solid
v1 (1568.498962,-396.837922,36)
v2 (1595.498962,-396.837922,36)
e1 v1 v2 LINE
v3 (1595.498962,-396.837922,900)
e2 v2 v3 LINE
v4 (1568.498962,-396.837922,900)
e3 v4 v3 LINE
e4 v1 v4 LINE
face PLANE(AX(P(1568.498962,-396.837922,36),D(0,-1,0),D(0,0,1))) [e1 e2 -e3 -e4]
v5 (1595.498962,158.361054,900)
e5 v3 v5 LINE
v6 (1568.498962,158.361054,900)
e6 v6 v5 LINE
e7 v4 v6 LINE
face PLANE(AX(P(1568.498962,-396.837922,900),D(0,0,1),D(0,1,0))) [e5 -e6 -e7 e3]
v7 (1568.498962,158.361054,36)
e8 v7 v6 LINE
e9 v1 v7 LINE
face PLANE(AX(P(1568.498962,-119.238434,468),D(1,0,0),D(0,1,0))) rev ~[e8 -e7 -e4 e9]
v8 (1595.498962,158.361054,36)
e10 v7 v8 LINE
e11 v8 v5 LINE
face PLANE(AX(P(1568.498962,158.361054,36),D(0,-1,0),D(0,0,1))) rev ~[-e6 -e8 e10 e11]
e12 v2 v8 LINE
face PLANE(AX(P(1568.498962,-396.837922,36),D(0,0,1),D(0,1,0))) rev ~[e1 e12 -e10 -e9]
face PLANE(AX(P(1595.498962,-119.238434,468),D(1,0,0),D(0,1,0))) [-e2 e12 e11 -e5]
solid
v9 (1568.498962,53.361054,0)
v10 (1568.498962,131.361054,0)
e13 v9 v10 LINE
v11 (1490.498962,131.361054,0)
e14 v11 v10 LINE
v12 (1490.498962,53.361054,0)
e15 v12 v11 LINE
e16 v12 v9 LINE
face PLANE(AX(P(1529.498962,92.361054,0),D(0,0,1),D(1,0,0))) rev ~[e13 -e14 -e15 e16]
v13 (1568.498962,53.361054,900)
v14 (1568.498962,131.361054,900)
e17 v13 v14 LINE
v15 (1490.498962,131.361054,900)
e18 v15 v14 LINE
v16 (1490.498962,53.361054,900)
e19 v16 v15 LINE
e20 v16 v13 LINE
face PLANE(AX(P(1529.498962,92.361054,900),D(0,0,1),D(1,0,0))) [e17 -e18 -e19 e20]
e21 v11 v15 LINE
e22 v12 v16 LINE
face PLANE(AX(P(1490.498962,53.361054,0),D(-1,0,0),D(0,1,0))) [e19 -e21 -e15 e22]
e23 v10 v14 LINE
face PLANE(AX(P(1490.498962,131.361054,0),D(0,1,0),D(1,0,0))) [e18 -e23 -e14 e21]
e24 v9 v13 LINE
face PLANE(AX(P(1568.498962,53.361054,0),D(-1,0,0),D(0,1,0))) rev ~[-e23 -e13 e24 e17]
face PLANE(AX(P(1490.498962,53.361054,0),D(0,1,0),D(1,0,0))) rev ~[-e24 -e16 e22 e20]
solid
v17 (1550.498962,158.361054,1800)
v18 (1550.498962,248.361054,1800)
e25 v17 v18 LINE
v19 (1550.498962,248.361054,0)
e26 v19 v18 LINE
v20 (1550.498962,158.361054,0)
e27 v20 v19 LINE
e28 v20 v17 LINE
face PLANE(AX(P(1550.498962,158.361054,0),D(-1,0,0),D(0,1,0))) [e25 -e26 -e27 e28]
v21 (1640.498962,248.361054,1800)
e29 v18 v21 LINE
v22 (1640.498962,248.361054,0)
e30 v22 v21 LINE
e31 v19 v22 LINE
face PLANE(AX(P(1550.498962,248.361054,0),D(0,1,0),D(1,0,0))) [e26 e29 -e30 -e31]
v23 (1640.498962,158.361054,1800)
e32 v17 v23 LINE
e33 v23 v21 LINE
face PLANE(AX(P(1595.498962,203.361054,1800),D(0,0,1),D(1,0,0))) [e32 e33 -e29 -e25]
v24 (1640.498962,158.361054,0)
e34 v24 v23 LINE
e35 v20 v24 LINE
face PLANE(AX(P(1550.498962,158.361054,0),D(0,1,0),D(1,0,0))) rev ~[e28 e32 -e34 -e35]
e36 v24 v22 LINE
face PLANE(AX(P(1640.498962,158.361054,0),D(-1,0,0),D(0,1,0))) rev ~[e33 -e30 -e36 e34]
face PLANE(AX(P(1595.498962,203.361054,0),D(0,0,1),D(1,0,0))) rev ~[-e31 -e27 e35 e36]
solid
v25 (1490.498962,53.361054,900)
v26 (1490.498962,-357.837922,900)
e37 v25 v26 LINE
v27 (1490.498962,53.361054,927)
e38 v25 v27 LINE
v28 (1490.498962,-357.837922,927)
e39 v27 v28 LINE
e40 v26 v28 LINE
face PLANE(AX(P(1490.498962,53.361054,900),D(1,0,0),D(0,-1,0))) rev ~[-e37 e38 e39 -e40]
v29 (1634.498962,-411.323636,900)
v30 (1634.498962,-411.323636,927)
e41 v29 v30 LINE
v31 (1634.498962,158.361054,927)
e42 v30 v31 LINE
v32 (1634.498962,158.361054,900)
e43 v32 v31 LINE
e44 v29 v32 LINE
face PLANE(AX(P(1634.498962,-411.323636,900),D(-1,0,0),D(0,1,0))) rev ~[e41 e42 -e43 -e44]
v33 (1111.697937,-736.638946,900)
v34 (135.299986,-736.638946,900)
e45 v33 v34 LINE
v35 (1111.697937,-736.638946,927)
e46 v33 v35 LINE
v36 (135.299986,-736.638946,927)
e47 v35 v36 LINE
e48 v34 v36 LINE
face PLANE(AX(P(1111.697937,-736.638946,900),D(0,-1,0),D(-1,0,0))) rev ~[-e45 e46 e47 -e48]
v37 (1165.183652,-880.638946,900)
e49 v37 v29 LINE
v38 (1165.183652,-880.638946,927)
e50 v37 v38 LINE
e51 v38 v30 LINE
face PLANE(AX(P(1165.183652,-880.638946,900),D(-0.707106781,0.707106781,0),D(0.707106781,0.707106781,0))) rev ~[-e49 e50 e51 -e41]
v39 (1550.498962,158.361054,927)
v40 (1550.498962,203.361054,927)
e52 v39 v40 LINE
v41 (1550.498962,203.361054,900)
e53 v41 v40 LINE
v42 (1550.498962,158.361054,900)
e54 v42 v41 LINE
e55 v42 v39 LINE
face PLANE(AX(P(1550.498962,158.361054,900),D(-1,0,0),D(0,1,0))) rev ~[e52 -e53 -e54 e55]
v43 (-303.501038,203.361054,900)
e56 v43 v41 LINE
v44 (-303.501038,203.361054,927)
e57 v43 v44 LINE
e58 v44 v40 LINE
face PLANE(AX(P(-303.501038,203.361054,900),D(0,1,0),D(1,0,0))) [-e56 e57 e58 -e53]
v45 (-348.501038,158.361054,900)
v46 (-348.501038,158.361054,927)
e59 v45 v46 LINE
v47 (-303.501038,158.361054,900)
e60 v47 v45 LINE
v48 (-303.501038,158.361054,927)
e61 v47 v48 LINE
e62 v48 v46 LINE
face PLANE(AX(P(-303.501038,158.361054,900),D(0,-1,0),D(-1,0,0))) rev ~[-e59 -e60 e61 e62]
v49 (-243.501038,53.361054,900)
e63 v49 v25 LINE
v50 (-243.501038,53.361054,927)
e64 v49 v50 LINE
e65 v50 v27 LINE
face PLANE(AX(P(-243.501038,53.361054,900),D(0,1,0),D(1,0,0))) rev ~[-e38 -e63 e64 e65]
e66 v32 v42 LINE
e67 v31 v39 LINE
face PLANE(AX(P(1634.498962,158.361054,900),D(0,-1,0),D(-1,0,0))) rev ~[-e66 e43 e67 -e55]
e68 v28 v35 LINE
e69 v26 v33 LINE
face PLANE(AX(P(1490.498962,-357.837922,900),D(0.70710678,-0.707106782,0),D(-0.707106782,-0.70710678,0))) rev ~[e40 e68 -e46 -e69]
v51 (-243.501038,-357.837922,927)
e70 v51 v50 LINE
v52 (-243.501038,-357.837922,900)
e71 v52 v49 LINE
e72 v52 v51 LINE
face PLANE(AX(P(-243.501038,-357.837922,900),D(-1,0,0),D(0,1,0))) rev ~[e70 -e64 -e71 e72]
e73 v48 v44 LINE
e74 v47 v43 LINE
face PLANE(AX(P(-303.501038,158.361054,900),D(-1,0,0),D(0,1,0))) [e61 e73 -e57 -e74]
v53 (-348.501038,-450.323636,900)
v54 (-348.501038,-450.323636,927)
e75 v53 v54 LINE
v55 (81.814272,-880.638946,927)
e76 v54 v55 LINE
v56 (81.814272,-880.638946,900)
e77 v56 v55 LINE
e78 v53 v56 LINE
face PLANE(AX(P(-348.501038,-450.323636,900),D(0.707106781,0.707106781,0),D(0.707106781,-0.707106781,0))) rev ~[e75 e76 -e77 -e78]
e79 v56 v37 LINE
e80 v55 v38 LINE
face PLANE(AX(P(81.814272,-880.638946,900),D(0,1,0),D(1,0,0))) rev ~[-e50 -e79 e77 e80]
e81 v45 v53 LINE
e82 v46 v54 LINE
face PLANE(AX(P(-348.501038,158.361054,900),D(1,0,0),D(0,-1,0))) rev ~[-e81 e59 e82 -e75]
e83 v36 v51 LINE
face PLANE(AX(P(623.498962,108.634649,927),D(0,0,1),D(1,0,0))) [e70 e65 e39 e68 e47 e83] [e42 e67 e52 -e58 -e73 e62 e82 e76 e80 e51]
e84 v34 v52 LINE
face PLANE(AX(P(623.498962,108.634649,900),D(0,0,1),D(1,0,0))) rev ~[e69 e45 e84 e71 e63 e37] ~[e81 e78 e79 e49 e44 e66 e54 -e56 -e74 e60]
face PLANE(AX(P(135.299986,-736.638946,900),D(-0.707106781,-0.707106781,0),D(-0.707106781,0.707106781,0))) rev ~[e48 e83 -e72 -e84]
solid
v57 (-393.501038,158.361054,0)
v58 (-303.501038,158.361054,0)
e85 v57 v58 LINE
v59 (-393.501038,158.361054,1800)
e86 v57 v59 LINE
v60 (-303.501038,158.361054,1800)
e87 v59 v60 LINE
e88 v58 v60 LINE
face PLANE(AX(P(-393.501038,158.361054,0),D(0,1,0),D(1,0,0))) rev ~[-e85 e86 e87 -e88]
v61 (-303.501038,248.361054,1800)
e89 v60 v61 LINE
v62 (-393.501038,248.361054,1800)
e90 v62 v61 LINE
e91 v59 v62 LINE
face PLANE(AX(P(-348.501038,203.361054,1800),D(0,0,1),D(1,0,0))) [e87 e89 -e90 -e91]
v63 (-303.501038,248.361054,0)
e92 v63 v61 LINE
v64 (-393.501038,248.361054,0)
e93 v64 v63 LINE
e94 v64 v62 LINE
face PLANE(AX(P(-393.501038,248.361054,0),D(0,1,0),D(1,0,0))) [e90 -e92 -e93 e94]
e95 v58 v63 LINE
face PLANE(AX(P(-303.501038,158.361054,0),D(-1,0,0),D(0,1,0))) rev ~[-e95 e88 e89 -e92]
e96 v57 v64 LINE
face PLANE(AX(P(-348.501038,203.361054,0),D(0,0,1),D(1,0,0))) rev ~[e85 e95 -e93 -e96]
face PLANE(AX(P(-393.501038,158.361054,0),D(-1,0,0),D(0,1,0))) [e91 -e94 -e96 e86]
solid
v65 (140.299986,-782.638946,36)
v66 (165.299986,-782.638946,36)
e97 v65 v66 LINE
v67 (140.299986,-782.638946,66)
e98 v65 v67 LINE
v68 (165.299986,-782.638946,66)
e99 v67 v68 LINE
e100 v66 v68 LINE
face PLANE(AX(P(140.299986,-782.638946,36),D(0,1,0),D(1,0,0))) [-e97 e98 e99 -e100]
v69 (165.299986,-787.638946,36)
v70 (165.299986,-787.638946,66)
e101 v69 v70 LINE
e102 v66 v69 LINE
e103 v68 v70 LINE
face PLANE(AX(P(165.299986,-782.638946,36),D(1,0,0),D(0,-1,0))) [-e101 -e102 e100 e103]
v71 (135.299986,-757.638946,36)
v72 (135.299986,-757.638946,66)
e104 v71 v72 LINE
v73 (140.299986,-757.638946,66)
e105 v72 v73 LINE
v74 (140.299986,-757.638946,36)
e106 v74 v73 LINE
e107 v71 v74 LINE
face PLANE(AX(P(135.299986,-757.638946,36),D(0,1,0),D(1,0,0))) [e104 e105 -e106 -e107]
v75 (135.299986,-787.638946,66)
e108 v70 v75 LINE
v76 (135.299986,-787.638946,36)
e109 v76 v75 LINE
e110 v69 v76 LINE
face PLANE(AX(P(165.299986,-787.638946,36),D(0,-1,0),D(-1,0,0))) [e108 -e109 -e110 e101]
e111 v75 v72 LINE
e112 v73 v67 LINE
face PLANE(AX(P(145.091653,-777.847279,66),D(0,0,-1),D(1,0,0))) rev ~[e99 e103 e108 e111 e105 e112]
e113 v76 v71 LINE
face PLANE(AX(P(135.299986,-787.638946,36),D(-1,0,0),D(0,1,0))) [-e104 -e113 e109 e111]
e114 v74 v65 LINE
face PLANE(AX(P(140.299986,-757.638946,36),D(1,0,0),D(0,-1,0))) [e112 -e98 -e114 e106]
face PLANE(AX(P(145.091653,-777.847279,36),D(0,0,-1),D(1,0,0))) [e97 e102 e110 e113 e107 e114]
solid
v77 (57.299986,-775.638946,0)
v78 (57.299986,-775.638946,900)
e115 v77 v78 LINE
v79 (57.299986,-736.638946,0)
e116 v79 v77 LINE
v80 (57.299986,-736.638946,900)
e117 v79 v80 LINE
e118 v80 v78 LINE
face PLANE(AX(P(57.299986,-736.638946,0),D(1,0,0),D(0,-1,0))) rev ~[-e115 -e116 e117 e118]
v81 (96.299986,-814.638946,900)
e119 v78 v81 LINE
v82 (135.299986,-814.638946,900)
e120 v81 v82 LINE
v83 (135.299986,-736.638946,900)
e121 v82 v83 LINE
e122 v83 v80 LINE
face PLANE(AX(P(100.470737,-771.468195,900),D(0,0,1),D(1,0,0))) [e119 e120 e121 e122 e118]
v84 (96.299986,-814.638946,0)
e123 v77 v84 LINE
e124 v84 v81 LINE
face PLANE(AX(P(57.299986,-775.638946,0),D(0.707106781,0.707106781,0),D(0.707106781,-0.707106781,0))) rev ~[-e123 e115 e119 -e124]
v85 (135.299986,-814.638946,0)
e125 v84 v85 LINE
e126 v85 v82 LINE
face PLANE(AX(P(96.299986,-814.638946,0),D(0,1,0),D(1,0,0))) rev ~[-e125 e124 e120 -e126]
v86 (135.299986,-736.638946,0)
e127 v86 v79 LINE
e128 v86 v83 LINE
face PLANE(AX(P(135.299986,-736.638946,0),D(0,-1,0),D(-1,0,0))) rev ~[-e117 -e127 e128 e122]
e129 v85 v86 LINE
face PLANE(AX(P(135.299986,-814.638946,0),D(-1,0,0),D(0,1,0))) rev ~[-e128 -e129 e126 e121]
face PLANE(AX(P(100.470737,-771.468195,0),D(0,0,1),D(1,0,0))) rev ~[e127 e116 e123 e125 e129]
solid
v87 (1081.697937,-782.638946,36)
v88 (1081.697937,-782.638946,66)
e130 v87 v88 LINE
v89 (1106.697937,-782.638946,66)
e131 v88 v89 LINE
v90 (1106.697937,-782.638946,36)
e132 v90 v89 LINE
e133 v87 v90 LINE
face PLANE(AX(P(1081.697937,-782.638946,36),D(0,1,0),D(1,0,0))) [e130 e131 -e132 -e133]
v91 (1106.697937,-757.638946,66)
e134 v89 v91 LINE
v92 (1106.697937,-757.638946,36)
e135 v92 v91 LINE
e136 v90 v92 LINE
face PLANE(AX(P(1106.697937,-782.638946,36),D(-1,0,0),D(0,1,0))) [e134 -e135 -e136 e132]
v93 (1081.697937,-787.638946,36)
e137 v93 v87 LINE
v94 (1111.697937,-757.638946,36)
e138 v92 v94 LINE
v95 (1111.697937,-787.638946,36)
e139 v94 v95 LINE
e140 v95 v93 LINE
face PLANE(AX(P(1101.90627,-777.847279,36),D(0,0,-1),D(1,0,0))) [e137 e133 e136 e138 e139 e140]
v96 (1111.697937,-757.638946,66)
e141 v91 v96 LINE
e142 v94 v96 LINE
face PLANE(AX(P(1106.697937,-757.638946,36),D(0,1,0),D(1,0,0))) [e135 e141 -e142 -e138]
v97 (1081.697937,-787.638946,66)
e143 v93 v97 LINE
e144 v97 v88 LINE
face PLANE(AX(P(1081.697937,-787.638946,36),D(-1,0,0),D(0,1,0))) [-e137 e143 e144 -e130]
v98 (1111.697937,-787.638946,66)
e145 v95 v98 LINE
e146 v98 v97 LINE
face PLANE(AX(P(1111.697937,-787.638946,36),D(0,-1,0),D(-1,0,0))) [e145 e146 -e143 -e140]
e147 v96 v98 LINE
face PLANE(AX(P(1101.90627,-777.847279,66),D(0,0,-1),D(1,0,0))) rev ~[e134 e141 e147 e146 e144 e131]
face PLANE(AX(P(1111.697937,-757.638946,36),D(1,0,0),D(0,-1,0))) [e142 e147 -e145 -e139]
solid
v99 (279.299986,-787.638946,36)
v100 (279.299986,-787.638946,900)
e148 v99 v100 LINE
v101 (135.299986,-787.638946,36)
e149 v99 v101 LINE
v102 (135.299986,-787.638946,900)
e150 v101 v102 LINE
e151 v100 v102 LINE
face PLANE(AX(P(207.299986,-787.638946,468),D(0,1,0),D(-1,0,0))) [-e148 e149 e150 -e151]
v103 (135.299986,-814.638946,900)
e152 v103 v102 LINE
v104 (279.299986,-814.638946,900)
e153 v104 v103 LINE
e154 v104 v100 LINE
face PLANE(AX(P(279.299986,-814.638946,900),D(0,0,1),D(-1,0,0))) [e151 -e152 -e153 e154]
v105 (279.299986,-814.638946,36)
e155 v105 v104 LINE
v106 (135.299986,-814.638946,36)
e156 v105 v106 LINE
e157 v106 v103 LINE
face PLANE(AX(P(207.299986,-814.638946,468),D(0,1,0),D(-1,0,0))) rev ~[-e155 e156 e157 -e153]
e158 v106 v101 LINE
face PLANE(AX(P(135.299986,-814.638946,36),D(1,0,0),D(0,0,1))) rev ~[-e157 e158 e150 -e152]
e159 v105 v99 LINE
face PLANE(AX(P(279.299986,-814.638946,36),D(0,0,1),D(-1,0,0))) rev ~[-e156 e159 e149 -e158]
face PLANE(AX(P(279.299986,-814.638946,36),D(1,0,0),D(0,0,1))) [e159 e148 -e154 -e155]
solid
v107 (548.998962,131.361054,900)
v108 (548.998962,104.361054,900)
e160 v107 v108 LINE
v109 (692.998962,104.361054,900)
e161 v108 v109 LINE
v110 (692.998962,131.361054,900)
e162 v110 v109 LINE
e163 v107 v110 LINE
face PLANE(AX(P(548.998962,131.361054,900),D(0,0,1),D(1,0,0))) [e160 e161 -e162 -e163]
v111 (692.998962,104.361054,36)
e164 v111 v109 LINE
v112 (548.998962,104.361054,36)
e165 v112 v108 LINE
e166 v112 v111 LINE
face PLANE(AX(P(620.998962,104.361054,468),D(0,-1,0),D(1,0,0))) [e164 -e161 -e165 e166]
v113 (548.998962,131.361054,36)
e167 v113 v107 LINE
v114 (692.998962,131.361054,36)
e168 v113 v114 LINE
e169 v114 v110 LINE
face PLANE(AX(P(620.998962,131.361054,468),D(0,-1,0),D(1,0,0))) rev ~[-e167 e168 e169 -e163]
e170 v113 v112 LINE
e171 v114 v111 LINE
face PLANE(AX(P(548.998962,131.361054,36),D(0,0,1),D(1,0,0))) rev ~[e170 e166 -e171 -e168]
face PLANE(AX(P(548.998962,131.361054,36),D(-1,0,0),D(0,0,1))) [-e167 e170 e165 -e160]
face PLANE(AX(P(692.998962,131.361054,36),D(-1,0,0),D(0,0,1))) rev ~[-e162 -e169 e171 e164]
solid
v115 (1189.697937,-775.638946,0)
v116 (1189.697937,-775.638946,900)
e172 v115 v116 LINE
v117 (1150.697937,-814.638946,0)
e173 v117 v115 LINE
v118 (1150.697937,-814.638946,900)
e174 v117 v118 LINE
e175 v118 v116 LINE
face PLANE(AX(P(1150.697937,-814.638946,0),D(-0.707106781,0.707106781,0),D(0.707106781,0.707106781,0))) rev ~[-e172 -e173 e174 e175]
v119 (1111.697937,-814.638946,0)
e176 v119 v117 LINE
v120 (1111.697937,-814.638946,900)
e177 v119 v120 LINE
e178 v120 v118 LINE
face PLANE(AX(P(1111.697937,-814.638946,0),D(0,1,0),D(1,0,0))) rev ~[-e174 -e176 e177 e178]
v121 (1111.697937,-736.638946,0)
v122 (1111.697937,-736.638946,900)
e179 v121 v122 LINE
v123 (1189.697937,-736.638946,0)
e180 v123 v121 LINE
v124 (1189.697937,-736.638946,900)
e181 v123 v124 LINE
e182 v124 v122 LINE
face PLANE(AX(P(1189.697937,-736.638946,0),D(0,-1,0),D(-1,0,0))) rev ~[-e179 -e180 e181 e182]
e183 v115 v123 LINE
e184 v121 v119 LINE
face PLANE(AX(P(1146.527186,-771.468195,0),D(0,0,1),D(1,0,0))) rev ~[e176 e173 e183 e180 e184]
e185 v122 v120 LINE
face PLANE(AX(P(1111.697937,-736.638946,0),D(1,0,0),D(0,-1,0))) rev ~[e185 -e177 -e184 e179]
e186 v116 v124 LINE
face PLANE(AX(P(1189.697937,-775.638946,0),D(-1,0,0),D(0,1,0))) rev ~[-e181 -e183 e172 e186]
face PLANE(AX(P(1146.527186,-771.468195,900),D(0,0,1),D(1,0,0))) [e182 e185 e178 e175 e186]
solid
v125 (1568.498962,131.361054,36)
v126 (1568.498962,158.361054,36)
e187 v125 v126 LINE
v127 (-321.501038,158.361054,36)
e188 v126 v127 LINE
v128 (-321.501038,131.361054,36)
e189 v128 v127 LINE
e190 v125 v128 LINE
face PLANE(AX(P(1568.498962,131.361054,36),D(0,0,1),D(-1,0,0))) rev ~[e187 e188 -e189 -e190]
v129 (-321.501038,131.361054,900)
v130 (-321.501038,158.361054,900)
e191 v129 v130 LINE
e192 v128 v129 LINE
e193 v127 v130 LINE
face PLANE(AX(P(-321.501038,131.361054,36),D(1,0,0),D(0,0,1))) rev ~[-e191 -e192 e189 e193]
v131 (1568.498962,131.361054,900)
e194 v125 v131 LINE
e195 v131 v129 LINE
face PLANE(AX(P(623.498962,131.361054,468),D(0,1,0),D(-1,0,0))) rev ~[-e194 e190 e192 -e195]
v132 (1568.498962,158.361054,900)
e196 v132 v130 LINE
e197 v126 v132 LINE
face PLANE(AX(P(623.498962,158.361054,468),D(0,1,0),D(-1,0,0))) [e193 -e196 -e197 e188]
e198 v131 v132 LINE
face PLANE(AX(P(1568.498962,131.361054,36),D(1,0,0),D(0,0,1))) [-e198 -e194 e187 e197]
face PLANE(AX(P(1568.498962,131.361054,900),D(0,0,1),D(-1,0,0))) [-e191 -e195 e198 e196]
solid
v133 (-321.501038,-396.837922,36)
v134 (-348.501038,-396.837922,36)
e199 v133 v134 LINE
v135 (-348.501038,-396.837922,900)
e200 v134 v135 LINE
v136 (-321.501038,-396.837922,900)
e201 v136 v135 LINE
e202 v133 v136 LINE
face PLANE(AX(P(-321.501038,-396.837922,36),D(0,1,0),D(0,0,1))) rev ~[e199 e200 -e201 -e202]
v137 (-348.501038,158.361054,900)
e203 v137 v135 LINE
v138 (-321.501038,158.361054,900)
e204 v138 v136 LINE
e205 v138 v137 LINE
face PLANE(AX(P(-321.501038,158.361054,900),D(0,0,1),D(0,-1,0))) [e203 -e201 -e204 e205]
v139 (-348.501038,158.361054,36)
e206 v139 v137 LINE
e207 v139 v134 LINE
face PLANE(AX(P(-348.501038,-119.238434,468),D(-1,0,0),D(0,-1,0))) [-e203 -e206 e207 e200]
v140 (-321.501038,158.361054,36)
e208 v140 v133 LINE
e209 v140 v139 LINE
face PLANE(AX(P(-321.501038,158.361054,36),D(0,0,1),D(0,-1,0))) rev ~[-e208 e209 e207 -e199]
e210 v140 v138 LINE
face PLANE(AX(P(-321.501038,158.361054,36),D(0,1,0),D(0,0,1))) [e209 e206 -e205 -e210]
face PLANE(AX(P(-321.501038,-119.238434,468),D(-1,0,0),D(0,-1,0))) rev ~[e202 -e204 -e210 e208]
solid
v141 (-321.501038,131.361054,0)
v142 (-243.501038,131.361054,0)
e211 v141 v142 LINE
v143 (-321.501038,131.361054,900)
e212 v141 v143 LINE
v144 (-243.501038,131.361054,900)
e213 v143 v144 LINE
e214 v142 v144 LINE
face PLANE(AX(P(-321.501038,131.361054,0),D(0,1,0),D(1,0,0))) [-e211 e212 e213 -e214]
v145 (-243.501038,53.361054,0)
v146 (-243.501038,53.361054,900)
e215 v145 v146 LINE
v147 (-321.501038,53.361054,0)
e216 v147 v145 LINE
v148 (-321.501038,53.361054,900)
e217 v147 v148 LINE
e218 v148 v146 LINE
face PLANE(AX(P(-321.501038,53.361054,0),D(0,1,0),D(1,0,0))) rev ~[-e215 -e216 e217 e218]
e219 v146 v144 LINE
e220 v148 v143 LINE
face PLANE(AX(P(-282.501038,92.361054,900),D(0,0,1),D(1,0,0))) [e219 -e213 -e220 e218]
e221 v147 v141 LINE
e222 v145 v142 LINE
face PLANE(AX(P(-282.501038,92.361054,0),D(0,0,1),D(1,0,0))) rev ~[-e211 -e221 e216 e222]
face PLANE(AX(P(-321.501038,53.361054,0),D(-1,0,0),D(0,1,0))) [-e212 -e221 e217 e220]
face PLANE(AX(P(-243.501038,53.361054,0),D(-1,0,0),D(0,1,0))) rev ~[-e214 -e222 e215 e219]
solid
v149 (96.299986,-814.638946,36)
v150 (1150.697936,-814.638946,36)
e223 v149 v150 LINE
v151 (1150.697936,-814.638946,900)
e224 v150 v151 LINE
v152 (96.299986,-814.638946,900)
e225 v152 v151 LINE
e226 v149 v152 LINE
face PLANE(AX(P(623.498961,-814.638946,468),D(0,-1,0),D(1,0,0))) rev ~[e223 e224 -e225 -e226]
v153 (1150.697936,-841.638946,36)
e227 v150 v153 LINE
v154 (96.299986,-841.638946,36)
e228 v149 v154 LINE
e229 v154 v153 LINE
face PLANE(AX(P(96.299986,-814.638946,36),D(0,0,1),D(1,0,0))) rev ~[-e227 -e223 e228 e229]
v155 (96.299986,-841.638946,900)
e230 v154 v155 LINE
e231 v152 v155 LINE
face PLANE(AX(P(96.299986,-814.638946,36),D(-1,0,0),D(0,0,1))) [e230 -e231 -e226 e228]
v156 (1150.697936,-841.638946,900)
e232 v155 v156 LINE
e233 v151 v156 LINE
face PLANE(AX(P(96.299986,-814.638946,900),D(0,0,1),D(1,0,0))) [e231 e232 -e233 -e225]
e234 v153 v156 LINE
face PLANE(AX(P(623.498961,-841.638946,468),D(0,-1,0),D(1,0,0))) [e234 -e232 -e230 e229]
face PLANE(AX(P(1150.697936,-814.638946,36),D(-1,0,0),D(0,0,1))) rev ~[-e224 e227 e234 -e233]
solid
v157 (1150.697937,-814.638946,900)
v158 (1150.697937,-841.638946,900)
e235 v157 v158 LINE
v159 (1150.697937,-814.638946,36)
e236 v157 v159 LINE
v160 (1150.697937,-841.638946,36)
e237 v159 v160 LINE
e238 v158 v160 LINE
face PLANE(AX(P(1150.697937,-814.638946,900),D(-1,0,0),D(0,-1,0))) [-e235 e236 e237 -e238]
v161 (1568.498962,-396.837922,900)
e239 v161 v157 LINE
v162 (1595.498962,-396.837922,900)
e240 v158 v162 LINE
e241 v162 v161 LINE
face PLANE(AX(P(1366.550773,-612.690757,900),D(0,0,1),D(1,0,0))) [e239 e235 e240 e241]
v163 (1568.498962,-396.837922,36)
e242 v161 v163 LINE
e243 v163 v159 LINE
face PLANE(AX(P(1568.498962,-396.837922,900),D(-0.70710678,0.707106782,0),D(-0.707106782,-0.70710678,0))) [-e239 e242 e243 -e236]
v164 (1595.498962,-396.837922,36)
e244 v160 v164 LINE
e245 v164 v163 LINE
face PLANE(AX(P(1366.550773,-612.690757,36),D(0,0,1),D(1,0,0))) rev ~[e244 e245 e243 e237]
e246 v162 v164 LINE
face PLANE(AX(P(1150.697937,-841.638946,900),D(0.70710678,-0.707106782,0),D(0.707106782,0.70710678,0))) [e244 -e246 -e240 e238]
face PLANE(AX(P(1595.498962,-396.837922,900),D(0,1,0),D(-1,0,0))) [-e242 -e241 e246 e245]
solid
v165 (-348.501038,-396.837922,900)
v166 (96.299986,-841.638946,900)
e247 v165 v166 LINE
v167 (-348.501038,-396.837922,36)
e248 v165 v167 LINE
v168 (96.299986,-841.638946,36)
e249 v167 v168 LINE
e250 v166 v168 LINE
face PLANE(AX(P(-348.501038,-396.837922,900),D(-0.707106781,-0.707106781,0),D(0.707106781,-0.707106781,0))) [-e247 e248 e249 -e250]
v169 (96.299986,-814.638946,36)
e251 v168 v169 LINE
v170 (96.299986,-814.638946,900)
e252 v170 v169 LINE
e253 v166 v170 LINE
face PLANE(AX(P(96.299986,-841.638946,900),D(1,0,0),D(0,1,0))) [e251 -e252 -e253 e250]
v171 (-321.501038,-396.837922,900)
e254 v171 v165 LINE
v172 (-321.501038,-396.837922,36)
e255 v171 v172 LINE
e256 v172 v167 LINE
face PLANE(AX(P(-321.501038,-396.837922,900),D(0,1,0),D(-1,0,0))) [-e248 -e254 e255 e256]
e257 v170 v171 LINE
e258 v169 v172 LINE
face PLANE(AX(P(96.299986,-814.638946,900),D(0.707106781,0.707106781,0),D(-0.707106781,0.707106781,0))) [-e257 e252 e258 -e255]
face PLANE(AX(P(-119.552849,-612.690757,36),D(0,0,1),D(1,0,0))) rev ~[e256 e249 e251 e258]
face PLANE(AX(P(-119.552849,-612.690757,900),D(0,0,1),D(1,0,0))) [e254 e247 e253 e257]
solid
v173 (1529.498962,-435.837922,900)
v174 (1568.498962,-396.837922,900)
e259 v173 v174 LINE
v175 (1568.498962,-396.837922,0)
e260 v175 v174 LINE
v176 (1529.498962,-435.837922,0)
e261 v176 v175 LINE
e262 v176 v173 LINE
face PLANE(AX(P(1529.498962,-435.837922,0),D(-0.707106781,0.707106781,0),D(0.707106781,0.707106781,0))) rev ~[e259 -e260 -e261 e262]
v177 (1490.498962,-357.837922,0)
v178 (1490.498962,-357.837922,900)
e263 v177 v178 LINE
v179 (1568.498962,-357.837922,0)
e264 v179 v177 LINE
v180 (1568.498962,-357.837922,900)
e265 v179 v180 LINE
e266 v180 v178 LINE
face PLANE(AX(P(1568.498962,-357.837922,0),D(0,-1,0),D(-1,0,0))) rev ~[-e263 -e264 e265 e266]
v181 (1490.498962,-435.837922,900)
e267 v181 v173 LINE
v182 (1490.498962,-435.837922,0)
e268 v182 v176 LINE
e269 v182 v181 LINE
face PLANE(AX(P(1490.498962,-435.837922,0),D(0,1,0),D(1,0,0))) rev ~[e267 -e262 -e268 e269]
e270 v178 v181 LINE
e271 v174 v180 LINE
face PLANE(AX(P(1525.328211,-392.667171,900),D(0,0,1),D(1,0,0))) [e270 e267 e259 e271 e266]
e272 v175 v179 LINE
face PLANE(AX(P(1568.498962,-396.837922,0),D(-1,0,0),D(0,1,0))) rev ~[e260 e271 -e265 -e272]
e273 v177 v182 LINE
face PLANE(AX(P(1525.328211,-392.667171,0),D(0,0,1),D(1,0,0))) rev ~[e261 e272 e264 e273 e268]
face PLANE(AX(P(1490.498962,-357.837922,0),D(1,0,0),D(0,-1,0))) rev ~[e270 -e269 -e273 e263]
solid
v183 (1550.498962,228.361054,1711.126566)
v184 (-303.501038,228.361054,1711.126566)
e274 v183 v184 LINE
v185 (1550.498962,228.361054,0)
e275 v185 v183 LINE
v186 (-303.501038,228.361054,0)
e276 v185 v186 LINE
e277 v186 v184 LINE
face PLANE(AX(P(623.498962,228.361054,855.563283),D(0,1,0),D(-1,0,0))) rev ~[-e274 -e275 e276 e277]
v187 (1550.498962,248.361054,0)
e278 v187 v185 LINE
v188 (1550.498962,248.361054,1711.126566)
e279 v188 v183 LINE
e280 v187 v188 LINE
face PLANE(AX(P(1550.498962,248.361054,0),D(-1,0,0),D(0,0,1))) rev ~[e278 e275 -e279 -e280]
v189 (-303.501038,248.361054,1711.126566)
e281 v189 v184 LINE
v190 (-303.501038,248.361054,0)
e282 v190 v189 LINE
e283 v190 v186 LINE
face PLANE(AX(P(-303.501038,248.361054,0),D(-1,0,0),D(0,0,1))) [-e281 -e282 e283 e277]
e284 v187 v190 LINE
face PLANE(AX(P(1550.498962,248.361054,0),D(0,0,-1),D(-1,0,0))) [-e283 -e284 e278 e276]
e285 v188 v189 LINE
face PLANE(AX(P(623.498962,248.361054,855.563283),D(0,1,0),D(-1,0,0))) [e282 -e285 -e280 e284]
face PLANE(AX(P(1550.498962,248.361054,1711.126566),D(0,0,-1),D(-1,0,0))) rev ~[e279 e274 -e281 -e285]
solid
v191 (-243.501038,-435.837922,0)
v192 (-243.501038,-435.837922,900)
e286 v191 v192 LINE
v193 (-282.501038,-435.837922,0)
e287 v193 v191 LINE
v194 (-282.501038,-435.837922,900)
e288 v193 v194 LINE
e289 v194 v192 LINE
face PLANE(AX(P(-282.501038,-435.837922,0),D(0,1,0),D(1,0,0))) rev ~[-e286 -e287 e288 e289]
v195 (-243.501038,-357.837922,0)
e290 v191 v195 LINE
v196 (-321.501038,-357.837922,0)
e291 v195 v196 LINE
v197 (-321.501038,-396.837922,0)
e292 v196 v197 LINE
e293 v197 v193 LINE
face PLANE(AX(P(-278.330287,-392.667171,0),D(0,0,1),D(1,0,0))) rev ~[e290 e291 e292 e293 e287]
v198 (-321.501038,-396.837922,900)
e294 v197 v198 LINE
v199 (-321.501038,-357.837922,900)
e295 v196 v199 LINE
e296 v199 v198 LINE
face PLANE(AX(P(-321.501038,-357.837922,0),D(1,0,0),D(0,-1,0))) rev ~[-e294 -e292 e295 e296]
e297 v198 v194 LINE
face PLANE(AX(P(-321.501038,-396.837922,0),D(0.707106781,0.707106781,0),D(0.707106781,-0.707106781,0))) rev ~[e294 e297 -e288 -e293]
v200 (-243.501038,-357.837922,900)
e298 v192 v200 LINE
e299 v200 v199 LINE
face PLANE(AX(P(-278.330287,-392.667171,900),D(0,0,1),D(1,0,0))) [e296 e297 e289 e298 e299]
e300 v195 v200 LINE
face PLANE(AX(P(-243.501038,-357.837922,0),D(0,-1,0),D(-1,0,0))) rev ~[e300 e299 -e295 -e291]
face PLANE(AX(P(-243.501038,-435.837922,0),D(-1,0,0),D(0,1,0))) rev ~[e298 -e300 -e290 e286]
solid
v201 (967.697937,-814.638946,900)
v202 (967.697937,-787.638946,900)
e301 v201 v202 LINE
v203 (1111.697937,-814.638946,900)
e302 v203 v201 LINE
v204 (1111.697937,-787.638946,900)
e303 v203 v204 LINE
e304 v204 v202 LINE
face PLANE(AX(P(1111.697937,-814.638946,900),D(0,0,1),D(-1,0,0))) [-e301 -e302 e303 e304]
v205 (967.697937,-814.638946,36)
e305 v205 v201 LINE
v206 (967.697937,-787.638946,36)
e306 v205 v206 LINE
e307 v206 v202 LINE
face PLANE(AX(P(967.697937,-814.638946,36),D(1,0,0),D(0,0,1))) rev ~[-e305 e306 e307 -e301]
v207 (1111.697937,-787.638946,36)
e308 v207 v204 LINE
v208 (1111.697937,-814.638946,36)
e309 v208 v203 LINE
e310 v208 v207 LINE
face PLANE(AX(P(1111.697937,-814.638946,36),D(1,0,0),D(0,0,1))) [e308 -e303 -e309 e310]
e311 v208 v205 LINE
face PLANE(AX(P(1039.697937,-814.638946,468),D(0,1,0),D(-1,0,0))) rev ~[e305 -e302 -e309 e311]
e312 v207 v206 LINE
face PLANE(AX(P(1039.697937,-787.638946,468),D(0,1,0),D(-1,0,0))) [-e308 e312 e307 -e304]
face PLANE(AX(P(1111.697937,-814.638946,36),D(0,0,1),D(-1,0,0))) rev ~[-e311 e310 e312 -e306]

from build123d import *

# Parameters (mm, degrees)
F0_W      = 78
F0_H      = 78
F1_DEPTH  = 900
F2_W      = 1890
F2_H      = 864
F3_DEPTH  = 27
F4_W      = 555.198976
F4_H      = 864
F5_DEPTH  = 27
F6_W      = 555.198976
F6_H      = 864
F7_DEPTH  = 27
F8_W      = 1054.397951
F8_H      = 864
F9_DEPTH  = 27
F11_DEPTH = 864
F13_DEPTH = 864
F14_W     = 1854
F14_H     = 45
F15_DEPTH = 27
F16_W     = 90
F16_H     = 90
F17_DEPTH = 1800
F18_W     = 1854
F18_H     = 1711.126566
F19_DEPTH = 20
F20_W     = 144
F20_H     = 864
F21_DEPTH = 27
F23_DEPTH = 30
F24_W     = 144
F24_H     = 864
F25_DEPTH = 27


with BuildPart() as f1:
    # F0 (on Top) → F1 (new body)
    with BuildSketch(Plane.XY):
        with Locations((-282.501038, 92.361054)):
            Rectangle(F0_W, F0_H)
        with Locations((1529.498962, 92.361054)):
            Rectangle(F0_W, F0_H)
        Polygon((-282.501038, -435.837922), (-243.501038, -435.837922), (-243.501038, -357.837922), (-321.501038, -357.837922), (-321.501038, -396.837922), align=None)
        Polygon((1568.498962, -396.837922), (1568.498962, -357.837922), (1490.498962, -357.837922), (1490.498962, -435.837922), (1529.498962, -435.837922), align=None)
        Polygon((135.299986, -814.638946), (135.299986, -736.638946), (57.299986, -736.638946), (57.299986, -775.638946), (96.299986, -814.638946), align=None)
        Polygon((1189.697937, -775.638946), (1189.697937, -736.638946), (1111.697937, -736.638946), (1111.697937, -814.638946), (1150.697937, -814.638946), align=None)
    extrude(amount=F1_DEPTH)


with BuildPart() as f3:
    # F2 (on face) → F3 (new body)
    with BuildSketch(Plane(origin=(0, 131.361054, 0), x_dir=(-1, 0, 0), z_dir=(0, 1, 0))):
        with Locations((-623.498962, 468)):
            Rectangle(F2_W, F2_H)
    extrude(amount=F3_DEPTH)


with BuildPart() as f5:
    # F4 (on face) → F5 (new body)
    with BuildSketch(Plane(origin=(-321.501038, 0, 0), x_dir=(0, -1, 0), z_dir=(-1, 0, 0))):
        with Locations((119.238434, 468)):
            Rectangle(F4_W, F4_H)
    extrude(amount=F5_DEPTH)


with BuildPart() as f7:
    # F6 (on face) → F7 (new body)
    with BuildSketch(Plane.YZ.offset(1568.498962)):
        with Locations((-119.238434, 468)):
            Rectangle(F6_W, F6_H)
    extrude(amount=F7_DEPTH)


with BuildPart() as f9:
    # F8 (on face) → F9 (new body)
    with BuildSketch(Plane.XZ.offset(814.638946)):
        with Locations((623.498961, 468)):
            Rectangle(F8_W, F8_H)
    extrude(amount=F9_DEPTH)


with BuildPart() as f11:
    # F10 (on face) → F11 (new body)
    with BuildSketch(Plane.XY.offset(900)):
        Polygon((1568.498962, -396.837922), (1150.697937, -814.638946), (1150.697937, -841.638946), (1595.498962, -396.837922), align=None)
    extrude(amount=-F11_DEPTH)


with BuildPart() as f13:
    # F12 (on face) → F13 (new body)
    with BuildSketch(Plane.XY.offset(900)):
        Polygon((96.299986, -814.638946), (-321.501038, -396.837922), (-348.501038, -396.837922), (96.299986, -841.638946), align=None)
    extrude(amount=-F13_DEPTH)


with BuildPart() as f15:
    # F14 (on face) → F15 (new body)
    with BuildSketch(Plane.XY.offset(900)):
        Polygon((-243.501038, 53.361054), (1490.498962, 53.361054), (1595.498962, 158.361054), (1550.498962, 158.361054), (-303.501038, 158.361054), (-348.501038, 158.361054), align=None)
        Polygon((1595.498962, 158.361054), (1490.498962, 53.361054), (1490.498962, -357.837922), (1634.498962, -411.323636), (1634.498962, 158.361054), align=None)
        Polygon((1634.498962, -411.323636), (1490.498962, -357.837922), (1111.697937, -736.638946), (1165.183652, -880.638946), align=None)
        Polygon((-243.501038, -357.837922), (-243.501038, 53.361054), (-348.501038, 158.361054), (-348.501038, -396.837922), align=None)
        with Locations((623.498962, 180.861054)):
            Rectangle(F14_W, F14_H)
        Polygon((1165.183652, -880.638946), (1111.697937, -736.638946), (135.299986, -736.638946), (81.814272, -880.638946), align=None)
        Polygon((135.299986, -736.638946), (-243.501038, -357.837922), (-348.501038, -396.837922), (-348.501038, -450.323636), (81.814272, -880.638946), align=None)
    extrude(amount=F15_DEPTH)


with BuildPart() as f17:
    # F16 (on Top) → F17 (new body)
    with BuildSketch(Plane.XY):
        with Locations((1595.498962, 203.361054)):
            Rectangle(F16_W, F16_H)
        with Locations((-348.501038, 203.361054)):
            Rectangle(F16_W, F16_H)
    extrude(amount=F17_DEPTH)


with BuildPart() as f19:
    # F18 (on face) → F19 (new body)
    with BuildSketch(Plane(origin=(0, 248.361054, 0), x_dir=(-1, 0, 0), z_dir=(0, 1, 0))):
        with Locations((-623.498962, 855.563283)):
            Rectangle(F18_W, F18_H)
    extrude(amount=-F19_DEPTH)


with BuildPart() as f21:
    # F20 (on face) → F21 (new body)
    with BuildSketch(Plane(origin=(0, -814.638946, 0), x_dir=(-1, 0, 0), z_dir=(0, 1, 0))):
        with Locations((-1039.697937, 468)):
            Rectangle(F20_W, F20_H)
        with Locations((-207.299986, 468)):
            Rectangle(F20_W, F20_H)
    extrude(amount=F21_DEPTH)


with BuildPart() as f23:
    # F22 (on face) → F23 (new body)
    with BuildSketch(Plane(origin=(0, 0, 36), x_dir=(1, 0, 0), z_dir=(0, 0, -1))):
        Polygon((165.299986, 782.638946), (165.299986, 787.638946), (135.299986, 787.638946), (135.299986, 757.638946), (140.299986, 757.638946), (140.299986, 782.638946), align=None)
        Polygon((1111.697937, 787.638946), (1081.697937, 787.638946), (1081.697937, 782.638946), (1106.697937, 782.638946), (1106.697937, 757.638946), (1111.697937, 757.638946), align=None)
    extrude(amount=-F23_DEPTH)


with BuildPart() as f25:
    # F24 (on face) → F25 (new body)
    with BuildSketch(Plane.XZ.offset(-131.361054)):
        with Locations((620.998962, 468)):
            Rectangle(F24_W, F24_H)
    extrude(amount=F25_DEPTH)


solid = Compound([f1.part, f3.part, f5.part, f7.part, f9.part, f11.part, f13.part, f15.part, f17.part, f19.part, f21.part, f23.part, f25.part])
